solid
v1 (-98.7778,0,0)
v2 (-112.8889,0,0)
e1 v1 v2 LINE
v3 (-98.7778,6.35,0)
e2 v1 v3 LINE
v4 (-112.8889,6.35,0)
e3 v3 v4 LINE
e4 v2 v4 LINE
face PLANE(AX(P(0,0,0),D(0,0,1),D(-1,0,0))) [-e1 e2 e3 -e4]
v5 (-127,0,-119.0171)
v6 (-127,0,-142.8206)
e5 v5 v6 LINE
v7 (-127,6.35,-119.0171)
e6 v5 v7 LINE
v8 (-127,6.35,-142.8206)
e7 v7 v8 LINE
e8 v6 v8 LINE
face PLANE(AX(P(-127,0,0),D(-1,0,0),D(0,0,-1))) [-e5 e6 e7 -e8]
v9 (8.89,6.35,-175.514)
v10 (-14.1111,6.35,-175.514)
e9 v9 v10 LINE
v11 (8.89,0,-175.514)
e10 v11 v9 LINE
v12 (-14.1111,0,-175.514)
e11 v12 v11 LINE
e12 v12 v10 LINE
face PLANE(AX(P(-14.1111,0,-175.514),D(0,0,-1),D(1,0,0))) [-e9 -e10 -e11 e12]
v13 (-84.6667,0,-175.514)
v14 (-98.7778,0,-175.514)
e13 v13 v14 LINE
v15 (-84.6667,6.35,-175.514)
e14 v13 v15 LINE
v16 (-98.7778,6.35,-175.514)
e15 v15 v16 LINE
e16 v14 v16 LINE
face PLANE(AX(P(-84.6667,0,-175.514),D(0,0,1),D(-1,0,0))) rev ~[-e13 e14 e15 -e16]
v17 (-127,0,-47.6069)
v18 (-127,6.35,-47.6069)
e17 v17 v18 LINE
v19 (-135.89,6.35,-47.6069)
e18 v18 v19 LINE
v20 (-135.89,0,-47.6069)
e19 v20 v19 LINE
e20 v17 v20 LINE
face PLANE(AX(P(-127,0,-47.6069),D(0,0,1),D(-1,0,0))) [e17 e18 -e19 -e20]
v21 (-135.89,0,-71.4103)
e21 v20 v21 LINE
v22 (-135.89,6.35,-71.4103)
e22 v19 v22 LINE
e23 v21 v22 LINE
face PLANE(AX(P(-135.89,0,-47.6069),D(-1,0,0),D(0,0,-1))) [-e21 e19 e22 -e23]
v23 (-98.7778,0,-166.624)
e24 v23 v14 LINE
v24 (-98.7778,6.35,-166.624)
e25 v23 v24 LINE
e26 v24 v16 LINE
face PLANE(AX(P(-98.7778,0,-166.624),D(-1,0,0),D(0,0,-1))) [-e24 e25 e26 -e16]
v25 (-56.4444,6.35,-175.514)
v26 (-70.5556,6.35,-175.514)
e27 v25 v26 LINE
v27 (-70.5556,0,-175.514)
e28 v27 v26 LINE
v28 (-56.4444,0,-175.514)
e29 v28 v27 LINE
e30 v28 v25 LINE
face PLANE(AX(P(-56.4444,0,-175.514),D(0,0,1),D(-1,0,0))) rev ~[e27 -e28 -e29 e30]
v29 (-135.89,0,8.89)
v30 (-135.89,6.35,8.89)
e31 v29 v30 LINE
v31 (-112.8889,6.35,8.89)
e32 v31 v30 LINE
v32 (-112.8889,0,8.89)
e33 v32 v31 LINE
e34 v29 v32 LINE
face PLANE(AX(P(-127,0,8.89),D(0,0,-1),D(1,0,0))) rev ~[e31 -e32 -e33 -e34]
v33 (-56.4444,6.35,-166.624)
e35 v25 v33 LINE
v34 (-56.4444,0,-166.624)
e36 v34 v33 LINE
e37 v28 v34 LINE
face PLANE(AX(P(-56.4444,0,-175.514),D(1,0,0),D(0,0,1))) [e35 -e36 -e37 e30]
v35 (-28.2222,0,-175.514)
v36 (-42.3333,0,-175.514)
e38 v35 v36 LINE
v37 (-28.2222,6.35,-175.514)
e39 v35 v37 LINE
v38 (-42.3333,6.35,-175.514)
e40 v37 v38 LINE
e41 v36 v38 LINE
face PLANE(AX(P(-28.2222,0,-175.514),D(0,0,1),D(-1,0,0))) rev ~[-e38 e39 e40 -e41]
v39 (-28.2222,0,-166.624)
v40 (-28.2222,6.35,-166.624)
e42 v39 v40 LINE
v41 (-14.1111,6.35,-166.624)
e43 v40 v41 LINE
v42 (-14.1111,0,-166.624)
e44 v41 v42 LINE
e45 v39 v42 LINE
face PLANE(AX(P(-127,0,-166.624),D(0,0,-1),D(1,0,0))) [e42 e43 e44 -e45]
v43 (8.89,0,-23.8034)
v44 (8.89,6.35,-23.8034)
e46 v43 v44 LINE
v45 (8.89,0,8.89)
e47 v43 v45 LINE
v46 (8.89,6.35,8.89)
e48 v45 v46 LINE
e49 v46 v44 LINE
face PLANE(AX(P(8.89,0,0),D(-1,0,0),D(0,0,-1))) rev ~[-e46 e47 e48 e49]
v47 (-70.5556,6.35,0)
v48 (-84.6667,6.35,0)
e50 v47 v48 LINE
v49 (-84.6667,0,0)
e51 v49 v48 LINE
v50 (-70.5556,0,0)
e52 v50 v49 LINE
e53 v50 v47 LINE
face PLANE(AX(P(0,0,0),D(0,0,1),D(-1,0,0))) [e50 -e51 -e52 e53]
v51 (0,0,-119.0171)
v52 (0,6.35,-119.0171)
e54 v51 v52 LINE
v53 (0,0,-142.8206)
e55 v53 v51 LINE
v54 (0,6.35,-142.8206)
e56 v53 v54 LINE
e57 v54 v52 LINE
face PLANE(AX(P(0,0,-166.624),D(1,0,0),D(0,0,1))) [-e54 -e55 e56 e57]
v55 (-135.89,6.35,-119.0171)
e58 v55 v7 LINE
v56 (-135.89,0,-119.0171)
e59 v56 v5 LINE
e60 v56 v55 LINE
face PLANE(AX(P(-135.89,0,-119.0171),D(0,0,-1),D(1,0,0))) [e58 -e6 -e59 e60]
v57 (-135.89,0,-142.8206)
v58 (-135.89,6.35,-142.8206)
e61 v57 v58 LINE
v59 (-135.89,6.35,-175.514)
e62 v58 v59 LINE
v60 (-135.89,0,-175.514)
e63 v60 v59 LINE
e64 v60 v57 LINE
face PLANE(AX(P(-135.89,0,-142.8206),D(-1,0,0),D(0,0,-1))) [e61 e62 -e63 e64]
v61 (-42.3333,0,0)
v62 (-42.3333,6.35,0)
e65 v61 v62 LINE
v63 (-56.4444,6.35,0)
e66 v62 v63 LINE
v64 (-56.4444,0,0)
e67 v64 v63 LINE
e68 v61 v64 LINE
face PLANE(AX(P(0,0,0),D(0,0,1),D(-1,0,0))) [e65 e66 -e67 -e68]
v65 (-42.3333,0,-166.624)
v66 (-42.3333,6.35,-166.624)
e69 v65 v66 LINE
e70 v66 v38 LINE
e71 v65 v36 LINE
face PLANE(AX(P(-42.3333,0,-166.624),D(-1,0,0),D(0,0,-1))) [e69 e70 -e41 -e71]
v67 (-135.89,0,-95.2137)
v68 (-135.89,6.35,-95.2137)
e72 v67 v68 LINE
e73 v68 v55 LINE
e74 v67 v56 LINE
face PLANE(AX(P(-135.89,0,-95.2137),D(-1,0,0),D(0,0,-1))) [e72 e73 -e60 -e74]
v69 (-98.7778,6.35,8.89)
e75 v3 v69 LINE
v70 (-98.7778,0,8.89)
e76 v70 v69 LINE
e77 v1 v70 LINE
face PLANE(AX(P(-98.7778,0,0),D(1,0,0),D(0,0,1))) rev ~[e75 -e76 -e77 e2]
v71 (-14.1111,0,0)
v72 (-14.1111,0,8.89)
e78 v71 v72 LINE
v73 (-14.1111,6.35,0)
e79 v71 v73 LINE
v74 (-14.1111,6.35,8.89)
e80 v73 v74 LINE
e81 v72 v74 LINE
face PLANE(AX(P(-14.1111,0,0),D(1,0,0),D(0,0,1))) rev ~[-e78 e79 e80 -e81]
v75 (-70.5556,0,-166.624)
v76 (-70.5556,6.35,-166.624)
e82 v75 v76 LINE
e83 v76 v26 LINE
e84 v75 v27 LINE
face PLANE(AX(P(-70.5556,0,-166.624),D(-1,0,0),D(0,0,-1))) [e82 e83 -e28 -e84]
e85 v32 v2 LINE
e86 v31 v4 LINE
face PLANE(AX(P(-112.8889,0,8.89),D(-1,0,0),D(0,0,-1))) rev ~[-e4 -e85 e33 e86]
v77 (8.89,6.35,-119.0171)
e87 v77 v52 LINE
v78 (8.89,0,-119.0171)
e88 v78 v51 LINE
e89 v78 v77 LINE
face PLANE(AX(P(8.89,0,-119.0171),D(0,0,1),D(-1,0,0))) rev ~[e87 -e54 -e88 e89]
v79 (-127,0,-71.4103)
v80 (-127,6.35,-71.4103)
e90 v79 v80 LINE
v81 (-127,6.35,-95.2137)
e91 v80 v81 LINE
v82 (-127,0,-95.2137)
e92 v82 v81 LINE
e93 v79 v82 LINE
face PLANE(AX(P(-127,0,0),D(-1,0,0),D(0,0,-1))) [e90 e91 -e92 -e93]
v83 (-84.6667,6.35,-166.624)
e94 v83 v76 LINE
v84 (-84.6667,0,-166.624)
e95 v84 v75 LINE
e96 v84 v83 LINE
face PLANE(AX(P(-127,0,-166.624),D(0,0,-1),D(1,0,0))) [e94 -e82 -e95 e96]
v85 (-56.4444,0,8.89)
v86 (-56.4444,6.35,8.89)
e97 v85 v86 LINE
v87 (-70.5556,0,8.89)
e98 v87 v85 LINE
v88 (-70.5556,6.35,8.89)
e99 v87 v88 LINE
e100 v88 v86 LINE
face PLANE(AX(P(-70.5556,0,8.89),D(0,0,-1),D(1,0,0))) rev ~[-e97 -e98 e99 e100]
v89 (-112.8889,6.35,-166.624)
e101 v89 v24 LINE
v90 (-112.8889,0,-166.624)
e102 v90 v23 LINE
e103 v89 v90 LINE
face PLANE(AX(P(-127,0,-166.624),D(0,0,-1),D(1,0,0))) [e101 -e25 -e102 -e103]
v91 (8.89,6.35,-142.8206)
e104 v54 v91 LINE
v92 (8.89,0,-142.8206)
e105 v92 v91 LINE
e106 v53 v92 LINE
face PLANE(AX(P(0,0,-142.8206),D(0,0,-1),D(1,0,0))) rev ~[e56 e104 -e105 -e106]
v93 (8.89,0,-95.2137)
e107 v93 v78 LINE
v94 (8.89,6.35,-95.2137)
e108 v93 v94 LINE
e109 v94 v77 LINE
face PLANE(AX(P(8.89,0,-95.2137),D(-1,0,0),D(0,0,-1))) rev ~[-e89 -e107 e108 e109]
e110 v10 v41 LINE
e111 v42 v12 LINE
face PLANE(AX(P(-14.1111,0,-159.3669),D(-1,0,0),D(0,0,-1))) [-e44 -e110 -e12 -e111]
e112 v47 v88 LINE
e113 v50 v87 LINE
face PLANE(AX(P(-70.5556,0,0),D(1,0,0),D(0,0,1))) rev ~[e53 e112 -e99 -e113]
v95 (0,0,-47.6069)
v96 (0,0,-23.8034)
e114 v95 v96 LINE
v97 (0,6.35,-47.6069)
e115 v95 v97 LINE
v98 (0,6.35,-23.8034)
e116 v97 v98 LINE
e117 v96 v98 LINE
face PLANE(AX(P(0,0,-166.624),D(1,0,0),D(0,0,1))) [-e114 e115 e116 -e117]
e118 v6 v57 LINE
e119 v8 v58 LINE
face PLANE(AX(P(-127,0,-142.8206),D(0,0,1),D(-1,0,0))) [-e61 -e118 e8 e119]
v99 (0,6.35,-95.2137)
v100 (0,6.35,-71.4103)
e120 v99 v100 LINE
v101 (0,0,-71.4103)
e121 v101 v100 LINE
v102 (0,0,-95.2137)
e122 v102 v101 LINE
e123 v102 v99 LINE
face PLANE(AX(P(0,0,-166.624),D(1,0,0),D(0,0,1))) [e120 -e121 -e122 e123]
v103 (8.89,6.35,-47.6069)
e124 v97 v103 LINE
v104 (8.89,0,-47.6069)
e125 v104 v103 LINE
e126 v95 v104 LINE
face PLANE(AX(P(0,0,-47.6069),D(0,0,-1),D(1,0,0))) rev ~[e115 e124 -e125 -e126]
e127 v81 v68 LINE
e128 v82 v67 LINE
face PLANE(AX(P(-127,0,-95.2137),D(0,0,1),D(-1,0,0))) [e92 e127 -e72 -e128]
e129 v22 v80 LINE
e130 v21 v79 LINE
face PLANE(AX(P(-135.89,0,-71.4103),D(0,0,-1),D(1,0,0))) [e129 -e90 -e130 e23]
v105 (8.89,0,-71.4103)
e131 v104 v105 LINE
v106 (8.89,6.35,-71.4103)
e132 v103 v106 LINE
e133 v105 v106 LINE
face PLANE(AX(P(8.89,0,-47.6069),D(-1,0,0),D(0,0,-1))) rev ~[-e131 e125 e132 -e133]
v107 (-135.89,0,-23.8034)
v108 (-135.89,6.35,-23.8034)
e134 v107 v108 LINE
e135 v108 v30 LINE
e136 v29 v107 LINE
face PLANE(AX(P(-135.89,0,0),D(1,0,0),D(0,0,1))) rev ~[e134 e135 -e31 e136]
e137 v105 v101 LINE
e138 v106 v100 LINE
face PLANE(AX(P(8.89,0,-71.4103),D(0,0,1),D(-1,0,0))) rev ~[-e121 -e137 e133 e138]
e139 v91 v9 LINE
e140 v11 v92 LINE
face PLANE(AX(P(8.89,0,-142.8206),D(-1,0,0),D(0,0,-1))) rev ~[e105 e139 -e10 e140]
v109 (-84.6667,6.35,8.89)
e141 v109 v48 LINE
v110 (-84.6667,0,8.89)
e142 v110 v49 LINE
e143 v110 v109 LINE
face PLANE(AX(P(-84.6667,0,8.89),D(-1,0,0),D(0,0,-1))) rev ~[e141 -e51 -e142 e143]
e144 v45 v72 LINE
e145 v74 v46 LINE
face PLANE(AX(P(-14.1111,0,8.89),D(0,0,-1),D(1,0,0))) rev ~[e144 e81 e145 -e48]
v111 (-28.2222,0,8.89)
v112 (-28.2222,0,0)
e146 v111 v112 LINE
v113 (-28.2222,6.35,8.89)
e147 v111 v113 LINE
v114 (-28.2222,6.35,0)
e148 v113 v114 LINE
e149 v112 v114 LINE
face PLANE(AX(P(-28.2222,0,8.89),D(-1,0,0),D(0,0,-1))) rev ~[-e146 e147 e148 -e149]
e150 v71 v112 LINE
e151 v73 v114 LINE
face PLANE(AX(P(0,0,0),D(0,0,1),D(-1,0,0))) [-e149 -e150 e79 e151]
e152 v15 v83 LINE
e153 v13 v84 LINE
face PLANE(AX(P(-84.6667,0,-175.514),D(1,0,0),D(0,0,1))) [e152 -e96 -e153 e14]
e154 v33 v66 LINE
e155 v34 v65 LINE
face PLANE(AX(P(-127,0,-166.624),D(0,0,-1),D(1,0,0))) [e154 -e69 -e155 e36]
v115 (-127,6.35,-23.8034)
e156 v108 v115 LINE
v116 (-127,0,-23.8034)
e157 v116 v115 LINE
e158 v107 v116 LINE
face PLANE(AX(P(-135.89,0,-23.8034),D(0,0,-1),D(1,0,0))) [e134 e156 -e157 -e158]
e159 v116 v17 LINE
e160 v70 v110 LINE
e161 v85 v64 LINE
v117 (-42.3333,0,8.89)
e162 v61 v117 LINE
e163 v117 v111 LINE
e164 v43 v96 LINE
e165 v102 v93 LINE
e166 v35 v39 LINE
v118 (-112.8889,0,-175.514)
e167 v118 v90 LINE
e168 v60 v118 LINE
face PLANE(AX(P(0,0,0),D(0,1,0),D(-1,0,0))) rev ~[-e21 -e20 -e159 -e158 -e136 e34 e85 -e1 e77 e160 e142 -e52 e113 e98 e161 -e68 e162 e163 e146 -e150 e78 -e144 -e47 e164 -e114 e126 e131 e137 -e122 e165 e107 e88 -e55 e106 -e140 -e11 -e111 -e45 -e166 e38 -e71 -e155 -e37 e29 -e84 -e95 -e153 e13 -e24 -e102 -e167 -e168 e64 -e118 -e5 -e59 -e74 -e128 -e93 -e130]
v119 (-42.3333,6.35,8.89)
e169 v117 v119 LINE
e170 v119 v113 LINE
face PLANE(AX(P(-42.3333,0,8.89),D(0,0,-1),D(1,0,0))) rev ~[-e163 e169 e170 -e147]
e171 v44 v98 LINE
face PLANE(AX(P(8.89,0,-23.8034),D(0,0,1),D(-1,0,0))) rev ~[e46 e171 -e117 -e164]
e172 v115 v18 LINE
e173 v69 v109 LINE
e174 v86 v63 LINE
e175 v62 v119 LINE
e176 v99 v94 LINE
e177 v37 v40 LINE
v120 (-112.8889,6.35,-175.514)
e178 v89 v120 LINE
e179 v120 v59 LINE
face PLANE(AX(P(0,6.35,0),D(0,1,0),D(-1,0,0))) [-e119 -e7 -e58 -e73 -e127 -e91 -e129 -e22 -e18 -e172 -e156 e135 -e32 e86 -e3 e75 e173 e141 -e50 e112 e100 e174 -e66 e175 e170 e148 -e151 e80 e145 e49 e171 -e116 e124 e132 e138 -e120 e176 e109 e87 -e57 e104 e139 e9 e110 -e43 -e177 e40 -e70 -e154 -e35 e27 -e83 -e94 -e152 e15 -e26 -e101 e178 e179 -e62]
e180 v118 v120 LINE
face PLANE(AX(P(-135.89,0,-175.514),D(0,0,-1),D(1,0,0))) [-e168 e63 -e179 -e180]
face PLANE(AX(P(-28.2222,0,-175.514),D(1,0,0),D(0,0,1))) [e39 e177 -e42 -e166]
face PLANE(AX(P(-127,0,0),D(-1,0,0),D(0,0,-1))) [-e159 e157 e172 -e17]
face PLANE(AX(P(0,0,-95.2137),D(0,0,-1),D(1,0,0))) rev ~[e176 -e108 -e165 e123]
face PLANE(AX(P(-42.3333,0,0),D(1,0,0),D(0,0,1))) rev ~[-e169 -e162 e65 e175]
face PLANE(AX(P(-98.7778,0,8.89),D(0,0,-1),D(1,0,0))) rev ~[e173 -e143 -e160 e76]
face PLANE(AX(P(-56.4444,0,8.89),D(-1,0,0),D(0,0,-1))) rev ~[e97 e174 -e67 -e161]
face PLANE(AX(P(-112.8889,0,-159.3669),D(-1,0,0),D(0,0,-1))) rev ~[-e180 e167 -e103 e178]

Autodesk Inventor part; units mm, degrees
ref_plane "YZ Plane" through (0, 0, 0) normal (1, 0, 0) x (0, 1, 0)
ref_plane "XZ Plane" through (0, 0, 0) normal (0, 1, 0) x (-1, 0, 0)
ref_plane "XY Plane" through (0, 0, 0) normal (0, 0, 1) x (1, 0, 0)
sketch "Sketch1" plane through (0, 0, 0) normal (0, 1, 0) x (-1, 0, 0)
  line L0 (0, 0) -> (127, 0)
  line L1 (127, 0) -> (127, -166.624)
  line L2 (127, -166.624) -> (0, -166.624)
  line L3 (0, -166.624) -> (0, 0)
  dimension "BoxHeight" = 127
  dimension "d1" = 166.624
sketch "Sketch2" plane through (0, 0, 0) normal (0, 1, 0) x (-1, 0, 0)
  line L0 (0, 0) -> (-8.89, 0)
  line L1 (-8.89, 0) -> (-8.89, -23.8034)
  line L2 (-8.89, -23.8034) -> (0, -23.8034)
  line L3 (0, -23.8034) -> (0, 0)
  line L4 (0, -166.624) -> (0, 0) projected
  line L5 (0, 0) -> (127, 0) projected
  line L6 (0, -47.6069) -> (-8.89, -47.6069)
  line L7 (-8.89, -47.6069) -> (-8.89, -71.4103)
  line L8 (-8.89, -71.4103) -> (0, -71.4103)
  line L9 (0, -71.4103) -> (0, -47.6069)
  line L10 (0, -95.2137) -> (-8.89, -95.2137)
  line L11 (-8.89, -95.2137) -> (-8.89, -119.0171)
  line L12 (-8.89, -119.0171) -> (0, -119.0171)
  line L13 (0, -119.0171) -> (0, -95.2137)
  line L14 (63.5, 0) -> (63.5, -115.824) construction
  line L15 (127, -23.8034) -> (127, 0)
  line L16 (127, -166.624) -> (127, 0)
  line L17 (127, -71.4103) -> (127, -47.6069)
  line L18 (127, -119.0171) -> (127, -95.2137)
  line L19 (28.2222, -166.624) -> (14.1111, -166.624)
  line L20 (14.1111, -166.624) -> (14.1111, -175.514)
  line L21 (14.1111, -175.514) -> (28.2222, -175.514)
  line L22 (28.2222, -175.514) -> (28.2222, -166.624)
  line L23 (127, -166.624) -> (0, -166.624) projected
  line L24 (56.4444, -166.624) -> (42.3333, -166.624)
  line L25 (42.3333, -166.624) -> (42.3333, -175.514)
  line L26 (42.3333, -175.514) -> (56.4444, -175.514)
  line L27 (56.4444, -175.514) -> (56.4444, -166.624)
  line L28 (84.6667, -166.624) -> (70.5556, -166.624)
  line L29 (70.5556, -166.624) -> (70.5556, -175.514)
  line L30 (70.5556, -175.514) -> (84.6667, -175.514)
  line L31 (84.6667, -175.514) -> (84.6667, -166.624)
  line L32 (112.8889, -166.624) -> (98.7778, -166.624)
  line L33 (98.7778, -166.624) -> (98.7778, -175.514)
  line L34 (98.7778, -175.514) -> (112.8889, -175.514)
  line L35 (112.8889, -175.514) -> (112.8889, -166.624)
  line L36 (127, -83.312) -> (0, -83.312) construction
  line L37 (63.5, -166.624) -> (63.5, -50.8) construction
  line L38 (28.2222, 0) -> (14.1111, 0)
  line L39 (14.1111, 0) -> (14.1111, 8.89)
  line L40 (14.1111, 8.89) -> (28.2222, 8.89)
  line L41 (28.2222, 8.89) -> (28.2222, 0)
  line L42 (127, 0) -> (0, 0)
  line L43 (56.4444, 0) -> (42.3333, 0)
  line L44 (42.3333, 0) -> (42.3333, 8.89)
  line L45 (42.3333, 8.89) -> (56.4444, 8.89)
  line L46 (56.4444, 8.89) -> (56.4444, 0)
  line L47 (84.6667, 0) -> (70.5556, 0)
  line L48 (70.5556, 0) -> (70.5556, 8.89)
  line L49 (84.6667, 8.89) -> (84.6667, 0)
  line L50 (70.5556, 8.89) -> (84.6667, 8.89)
  line L51 (112.8889, 0) -> (98.7778, 0)
  line L52 (98.7778, 0) -> (98.7778, 8.89)
  line L53 (112.8889, 8.89) -> (112.8889, 0)
  line L54 (98.7778, 8.89) -> (112.8889, 8.89)
  line L55 (0, -142.8206) -> (-8.89, -142.8206)
  line L56 (-8.89, -142.8206) -> (-8.89, -159.3669)
  line L57 (-8.89, -159.3669) -> (0, -159.3669)
  line L58 (0, -159.3669) -> (0, -142.8206)
  line L59 (127, -166.624) -> (127, 0)
  line L60 (127, 0) -> (135.89, 0)
  line L61 (135.89, 0) -> (135.89, -23.8034)
  line L62 (135.89, -23.8034) -> (127, -23.8034)
  line L63 (127, -23.8034) -> (127, 0)
  line L64 (127, -166.624) -> (127, 0)
  line L65 (127, -47.6069) -> (135.89, -47.6069)
  line L66 (135.89, -47.6069) -> (135.89, -71.4103)
  line L67 (135.89, -71.4103) -> (127, -71.4103)
  line L68 (127, -71.4103) -> (127, -47.6069)
  line L69 (127, -95.2137) -> (135.89, -95.2137)
  line L70 (135.89, -95.2137) -> (135.89, -119.0171)
  line L71 (135.89, -119.0171) -> (127, -119.0171)
  line L72 (127, -119.0171) -> (127, -95.2137)
  line L73 (135.89, -142.8206) -> (135.89, -159.3669)
  line L74 (127, -142.8206) -> (135.89, -142.8206)
  line L75 (127, -159.3669) -> (127, -142.8206)
  line L76 (135.89, -159.3669) -> (127, -159.3669)
  line L77 (14.1111, -175.514) -> (0, -175.514)
  line L78 (0, -175.514) -> (0, -159.3669)
  line L79 (0, -159.3669) -> (14.1111, -159.3669)
  line L80 (14.1111, -159.3669) -> (14.1111, -175.514)
  line L81 (28.2222, -175.514) -> (42.3333, -175.514)
  line L82 (42.3333, -175.514) -> (42.3333, -166.624)
  line L83 (42.3333, -166.624) -> (28.2222, -166.624)
  line L84 (28.2222, -166.624) -> (28.2222, -175.514)
  line L85 (56.4444, -175.514) -> (70.5556, -175.514)
  line L86 (70.5556, -175.514) -> (70.5556, -166.624)
  line L87 (70.5556, -166.624) -> (56.4444, -166.624)
  line L88 (56.4444, -166.624) -> (56.4444, -175.514)
  line L89 (84.6667, -175.514) -> (98.7778, -175.514)
  line L90 (98.7778, -175.514) -> (98.7778, -166.624)
  line L91 (98.7778, -166.624) -> (84.6667, -166.624)
  line L92 (84.6667, -166.624) -> (84.6667, -175.514)
  line L93 (112.8889, -175.514) -> (127, -175.514)
  line L94 (127, -175.514) -> (127, -159.3669)
  line L95 (127, -159.3669) -> (112.8889, -159.3669)
  line L96 (112.8889, -159.3669) -> (112.8889, -175.514)
  line L97 (112.8889, 0) -> (127, 0)
  line L98 (127, 0) -> (127, 8.89)
  line L99 (127, 8.89) -> (112.8889, 8.89)
  line L100 (112.8889, 8.89) -> (112.8889, 0)
  line L101 (98.7778, 8.89) -> (84.6667, 8.89)
  line L102 (84.6667, 8.89) -> (84.6667, 0)
  line L103 (84.6667, 0) -> (98.7778, 0)
  line L104 (98.7778, 0) -> (98.7778, 8.89)
  line L105 (70.5556, 8.89) -> (56.4444, 8.89)
  line L106 (56.4444, 8.89) -> (56.4444, 0)
  line L107 (56.4444, 0) -> (70.5556, 0)
  line L108 (70.5556, 0) -> (70.5556, 8.89)
  line L109 (42.3333, 8.89) -> (28.2222, 8.89)
  line L110 (28.2222, 8.89) -> (28.2222, 0)
  line L111 (28.2222, 0) -> (42.3333, 0)
  line L112 (42.3333, 0) -> (42.3333, 8.89)
  line L113 (14.1111, 8.89) -> (0, 8.89)
  line L114 (0, 8.89) -> (0, 0)
  line L115 (0, 0) -> (14.1111, 0)
  line L116 (14.1111, 0) -> (14.1111, 8.89)
  line L117 (0, 0) -> (-8.89, 0)
  line L118 (-8.89, 0) -> (-8.89, 8.89)
  line L119 (-8.89, 8.89) -> (0, 8.89)
  line L120 (0, 8.89) -> (0, 0)
  line L121 (0, -159.3669) -> (-8.89, -159.3669)
  line L122 (-8.89, -159.3669) -> (-8.89, -168.2569)
  line L123 (-8.89, -168.2569) -> (0, -168.2569)
  line L124 (0, -168.2569) -> (0, -159.3669)
  line L125 (127, -159.3669) -> (135.89, -159.3669)
  line L126 (135.89, -159.3669) -> (135.89, -168.2569)
  line L127 (135.89, -168.2569) -> (127, -168.2569)
  line L128 (127, -168.2569) -> (127, -159.3669)
  line L129 (127, 0) -> (135.89, 0)
  line L130 (135.89, 0) -> (135.89, 8.89)
  line L131 (135.89, 8.89) -> (127, 8.89)
  line L132 (127, 8.89) -> (127, 0)
  line L133 (127, -168.2569) -> (135.89, -168.2569)
  line L134 (135.89, -168.2569) -> (135.89, -175.514)
  line L135 (135.89, -175.514) -> (127, -175.514)
  line L136 (127, -175.514) -> (127, -168.2569)
  line L137 (0, -168.2569) -> (-8.89, -168.2569)
  line L138 (-8.89, -168.2569) -> (-8.89, -175.514)
  line L139 (-8.89, -175.514) -> (0, -175.514)
  line L140 (0, -175.514) -> (0, -168.2569)
  dimension "d2" = 8.89
  dimension "d3" = 23.8034
  dimension "d5" = 8.89
  dimension "d6" = 23.8034
  dimension "d7" = 23.8034
  dimension "d8" = 8.89
  dimension "d9" = 23.8034
  dimension "d10" = 23.8034
  dimension "d11" = 14.1111
  dimension "d12" = 127
  dimension "d13" = 14.1111
  dimension "d14" = 8.89
  dimension "d15" = 8.89
  dimension "d16" = 14.1111
  dimension "d17" = 8.89
  dimension "d18" = 14.1111
  dimension "d22" = 8.89
  dimension "d23" = 14.1111
  dimension "d27" = 14.1111
  dimension "d28" = 14.1111
  dimension "d29" = 14.1111
  dimension "d34" = 8.89
  dimension "d35" = 16.5463
  dimension "d40" = 23.8034
  dimension "d41" = 8.89
  dimension "d42" = 8.89
  dimension "d43" = 8.89
  dimension "d44" = 8.89
  dimension "d45" = 8.89
  dimension "d46" = 8.89
  dimension "d47" = 8.89
  dimension "d48" = 8.89
extrude "Connections" add sketch "Sketch2" along normal blind 6.35 contours L3 L2 L1 L0 | L114 L113 L39 L5 | L0 L118 L119 L114 | L4 L8 L7 L6 | L41 L109 L44 L5 | L4 L12 L11 L10 | L46 L105 L48 L5 | L4 L57 L56 L55 | L49 L101 L52 L5 | L79 L80 L23 L4 | L4 L78 L123 L122 L57 | L23 L20 L77 L78 | L53 L99 L98 L5 | L78 L139 L138 L123 | L60 L61 L62 L15 | L98 L131 L130 L60 | L23 L25 L81 L22 | L65 L66 L67 L16 | L23 L29 L85 L27 | L69 L70 L71 L16 | L23 L33 L89 L31 | L74 L73 L76 L16 | L96 L95 L16 L23 | L23 L94 L93 L35 | L76 L126 L127 L94 L16 | L94 L127 L134 L135
extrude "Base Extrusion" add sketch "Sketch1" along normal blind 6.35
sketch "Sketch3" plane through (0, 6.35, 0) normal (0, 1, 0) x (1, 0, 0)
  line L0 (-6.2788, 64.0613) -> (-6.2788, 44.7093) construction
  line L1 (-6.2788, 44.7093) -> (-46.5625, 44.7093) construction
  line L2 (-46.5625, 44.7093) -> (-46.5625, 64.0613) construction
  line L3 (-46.5625, 64.0613) -> (-6.2788, 64.0613) construction
  point P0 (0, 0)
sketch "Sketch4" plane through (0, 6.35, 0) normal (0, 1, 0) x (1, 0, 0)
  point P0 (0, 0)
sketch "Sketch5" plane through (0, 6.35, 0) normal (0, 1, 0) x (1, 0, 0)
  line L0 (-127, 119.0171) -> (-135.89, 119.0171) projected
  line L1 (-135.89, 119.0171) -> (-135.89, 95.2137) projected
  line L2 (-135.89, 95.2137) -> (-127, 95.2137) projected
  line L3 (-127, 95.2137) -> (-127, 71.4103) projected
  line L4 (-127, 71.4103) -> (-135.89, 71.4103) projected
  line L5 (-135.89, 71.4103) -> (-135.89, 47.6069) projected
  line L6 (-135.89, 47.6069) -> (-127, 47.6069) projected
  line L7 (-127, 47.6069) -> (-127, 23.8034) projected
  line L8 (-127, 23.8034) -> (-135.89, 23.8034) projected
  line L9 (-135.89, 23.8034) -> (-135.89, -8.89) projected
  line L10 (-135.89, -8.89) -> (-112.8889, -8.89) projected
  line L11 (-112.8889, -8.89) -> (-112.8889, 0) projected
  line L12 (-112.8889, 0) -> (-98.7778, 0) projected
  line L13 (-98.7778, 0) -> (-98.7778, -8.89) projected
  line L14 (-98.7778, -8.89) -> (-84.6667, -8.89) projected
  line L15 (-84.6667, -8.89) -> (-84.6667, 0) projected
  line L16 (-84.6667, 0) -> (-70.5556, 0) projected
  line L17 (-70.5556, 0) -> (-70.5556, -8.89) projected
  line L18 (-70.5556, -8.89) -> (-56.4444, -8.89) projected
  line L19 (-56.4444, -8.89) -> (-56.4444, 0) projected
  line L20 (-56.4444, 0) -> (-42.3333, 0) projected
  line L21 (-42.3333, 0) -> (-42.3333, -8.89) projected
  line L22 (-42.3333, -8.89) -> (-28.2222, -8.89) projected
  line L23 (-28.2222, -8.89) -> (-28.2222, 0) projected
  line L24 (-28.2222, 0) -> (-14.1111, 0) projected
  line L25 (-14.1111, 0) -> (-14.1111, -8.89) projected
  line L26 (-14.1111, -8.89) -> (8.89, -8.89) projected
  line L27 (8.89, -8.89) -> (8.89, 23.8034) projected
  line L28 (8.89, 23.8034) -> (0, 23.8034) projected
  line L29 (0, 23.8034) -> (0, 47.6069) projected
  line L30 (0, 47.6069) -> (8.89, 47.6069) projected
  line L31 (8.89, 47.6069) -> (8.89, 71.4103) projected
  line L32 (8.89, 71.4103) -> (0, 71.4103) projected
  line L33 (0, 71.4103) -> (0, 95.2137) projected
  line L34 (0, 95.2137) -> (8.89, 95.2137) projected
  line L35 (8.89, 95.2137) -> (8.89, 119.0171) projected
  line L36 (8.89, 119.0171) -> (0, 119.0171) projected
  line L37 (0, 119.0171) -> (0, 142.8206) projected
  line L38 (0, 142.8206) -> (8.89, 142.8206) projected
  line L39 (8.89, 142.8206) -> (8.89, 175.514) projected
  line L40 (8.89, 175.514) -> (-14.1111, 175.514) projected
  line L41 (-14.1111, 175.514) -> (-14.1111, 166.624) projected
  line L42 (-14.1111, 166.624) -> (-28.2222, 166.624) projected
  line L43 (-28.2222, 166.624) -> (-28.2222, 175.514) projected
  line L44 (-28.2222, 175.514) -> (-42.3333, 175.514) projected
  line L45 (-42.3333, 175.514) -> (-42.3333, 166.624) projected
  line L46 (-42.3333, 166.624) -> (-56.4444, 166.624) projected
  line L47 (-56.4444, 166.624) -> (-56.4444, 175.514) projected
  line L48 (-56.4444, 175.514) -> (-70.5556, 175.514) projected
  line L49 (-70.5556, 175.514) -> (-70.5556, 166.624) projected
  line L50 (-70.5556, 166.624) -> (-84.6667, 166.624) projected
  line L51 (-84.6667, 166.624) -> (-84.6667, 175.514) projected
  line L52 (-84.6667, 175.514) -> (-98.7778, 175.514) projected
  line L53 (-98.7778, 175.514) -> (-98.7778, 166.624) projected
  line L54 (-98.7778, 166.624) -> (-112.8889, 166.624) projected
  line L55 (-112.8889, 166.624) -> (-112.8889, 175.514) projected
  line L56 (-112.8889, 175.514) -> (-135.89, 175.514) projected
  line L57 (-135.89, 175.514) -> (-135.89, 142.8206) projected
  line L58 (-135.89, 142.8206) -> (-127, 142.8206) projected
  line L59 (-127, 142.8206) -> (-127, 119.0171) projected
  point P0 (0, 0)
equation "\"d1\" = BaseWidth"
equation "\"d2\" = WallConA"
equation "\"d3\" = WallConB"
equation "\"d5\" = d2"
equation "\"d6\" = WallConSpace"
equation "\"d7\" = d4"
equation "\"d8\" = d2"
equation "\"d9\" = d6"
equation "\"d10\" = d4"
equation "\"d11\" = -0.8 * d13 + 0.2 * d12"
equation "\"d13\" = 0.111111 * d12"
equation "\"d14\" = WallConA"
equation "\"d15\" = d14"
equation "\"d16\" = d13"
equation "\"d17\" = d15"
equation "\"d18\" = d20"
equation "\"d22\" = d17"
equation "\"d23\" = d25"
equation "\"d27\" = d11"
equation "\"d28\" = d27"
equation "\"d29\" = d11"
equation "\"d34\" = d36"
equation "\"d35\" = d37"
equation "\"d40\" = d7"
equation "\"d41\" = d5"
equation "\"d42\" = d5"
equation "\"d43\" = d41"
equation "\"d44\" = d42"
equation "\"d45\" = d41"
equation "\"d46\" = d42"
equation "\"d47\" = d41"
equation "\"d48\" = d42"
equation "\"d4\" = WallConSpace"
equation "\"d20\" = 0.111111 * d21"
equation "\"d25\" = 0.111111 * d26"
equation "\"d36\" = d38"
equation "\"d37\" = d39"
equation "\"BaseWidth\" = 166.624"
equation "\"WallConA\" = 8.89"
equation "\"WallConB\" = 23.803429"
equation "\"WallConSpace\" = 23.803429"
equation "\"d21\" = 127"
equation "\"d26\" = 127"
equation "\"d38\" = 8.89"
equation "\"d39\" = 16.546286"
properties part number "WallToWall"
